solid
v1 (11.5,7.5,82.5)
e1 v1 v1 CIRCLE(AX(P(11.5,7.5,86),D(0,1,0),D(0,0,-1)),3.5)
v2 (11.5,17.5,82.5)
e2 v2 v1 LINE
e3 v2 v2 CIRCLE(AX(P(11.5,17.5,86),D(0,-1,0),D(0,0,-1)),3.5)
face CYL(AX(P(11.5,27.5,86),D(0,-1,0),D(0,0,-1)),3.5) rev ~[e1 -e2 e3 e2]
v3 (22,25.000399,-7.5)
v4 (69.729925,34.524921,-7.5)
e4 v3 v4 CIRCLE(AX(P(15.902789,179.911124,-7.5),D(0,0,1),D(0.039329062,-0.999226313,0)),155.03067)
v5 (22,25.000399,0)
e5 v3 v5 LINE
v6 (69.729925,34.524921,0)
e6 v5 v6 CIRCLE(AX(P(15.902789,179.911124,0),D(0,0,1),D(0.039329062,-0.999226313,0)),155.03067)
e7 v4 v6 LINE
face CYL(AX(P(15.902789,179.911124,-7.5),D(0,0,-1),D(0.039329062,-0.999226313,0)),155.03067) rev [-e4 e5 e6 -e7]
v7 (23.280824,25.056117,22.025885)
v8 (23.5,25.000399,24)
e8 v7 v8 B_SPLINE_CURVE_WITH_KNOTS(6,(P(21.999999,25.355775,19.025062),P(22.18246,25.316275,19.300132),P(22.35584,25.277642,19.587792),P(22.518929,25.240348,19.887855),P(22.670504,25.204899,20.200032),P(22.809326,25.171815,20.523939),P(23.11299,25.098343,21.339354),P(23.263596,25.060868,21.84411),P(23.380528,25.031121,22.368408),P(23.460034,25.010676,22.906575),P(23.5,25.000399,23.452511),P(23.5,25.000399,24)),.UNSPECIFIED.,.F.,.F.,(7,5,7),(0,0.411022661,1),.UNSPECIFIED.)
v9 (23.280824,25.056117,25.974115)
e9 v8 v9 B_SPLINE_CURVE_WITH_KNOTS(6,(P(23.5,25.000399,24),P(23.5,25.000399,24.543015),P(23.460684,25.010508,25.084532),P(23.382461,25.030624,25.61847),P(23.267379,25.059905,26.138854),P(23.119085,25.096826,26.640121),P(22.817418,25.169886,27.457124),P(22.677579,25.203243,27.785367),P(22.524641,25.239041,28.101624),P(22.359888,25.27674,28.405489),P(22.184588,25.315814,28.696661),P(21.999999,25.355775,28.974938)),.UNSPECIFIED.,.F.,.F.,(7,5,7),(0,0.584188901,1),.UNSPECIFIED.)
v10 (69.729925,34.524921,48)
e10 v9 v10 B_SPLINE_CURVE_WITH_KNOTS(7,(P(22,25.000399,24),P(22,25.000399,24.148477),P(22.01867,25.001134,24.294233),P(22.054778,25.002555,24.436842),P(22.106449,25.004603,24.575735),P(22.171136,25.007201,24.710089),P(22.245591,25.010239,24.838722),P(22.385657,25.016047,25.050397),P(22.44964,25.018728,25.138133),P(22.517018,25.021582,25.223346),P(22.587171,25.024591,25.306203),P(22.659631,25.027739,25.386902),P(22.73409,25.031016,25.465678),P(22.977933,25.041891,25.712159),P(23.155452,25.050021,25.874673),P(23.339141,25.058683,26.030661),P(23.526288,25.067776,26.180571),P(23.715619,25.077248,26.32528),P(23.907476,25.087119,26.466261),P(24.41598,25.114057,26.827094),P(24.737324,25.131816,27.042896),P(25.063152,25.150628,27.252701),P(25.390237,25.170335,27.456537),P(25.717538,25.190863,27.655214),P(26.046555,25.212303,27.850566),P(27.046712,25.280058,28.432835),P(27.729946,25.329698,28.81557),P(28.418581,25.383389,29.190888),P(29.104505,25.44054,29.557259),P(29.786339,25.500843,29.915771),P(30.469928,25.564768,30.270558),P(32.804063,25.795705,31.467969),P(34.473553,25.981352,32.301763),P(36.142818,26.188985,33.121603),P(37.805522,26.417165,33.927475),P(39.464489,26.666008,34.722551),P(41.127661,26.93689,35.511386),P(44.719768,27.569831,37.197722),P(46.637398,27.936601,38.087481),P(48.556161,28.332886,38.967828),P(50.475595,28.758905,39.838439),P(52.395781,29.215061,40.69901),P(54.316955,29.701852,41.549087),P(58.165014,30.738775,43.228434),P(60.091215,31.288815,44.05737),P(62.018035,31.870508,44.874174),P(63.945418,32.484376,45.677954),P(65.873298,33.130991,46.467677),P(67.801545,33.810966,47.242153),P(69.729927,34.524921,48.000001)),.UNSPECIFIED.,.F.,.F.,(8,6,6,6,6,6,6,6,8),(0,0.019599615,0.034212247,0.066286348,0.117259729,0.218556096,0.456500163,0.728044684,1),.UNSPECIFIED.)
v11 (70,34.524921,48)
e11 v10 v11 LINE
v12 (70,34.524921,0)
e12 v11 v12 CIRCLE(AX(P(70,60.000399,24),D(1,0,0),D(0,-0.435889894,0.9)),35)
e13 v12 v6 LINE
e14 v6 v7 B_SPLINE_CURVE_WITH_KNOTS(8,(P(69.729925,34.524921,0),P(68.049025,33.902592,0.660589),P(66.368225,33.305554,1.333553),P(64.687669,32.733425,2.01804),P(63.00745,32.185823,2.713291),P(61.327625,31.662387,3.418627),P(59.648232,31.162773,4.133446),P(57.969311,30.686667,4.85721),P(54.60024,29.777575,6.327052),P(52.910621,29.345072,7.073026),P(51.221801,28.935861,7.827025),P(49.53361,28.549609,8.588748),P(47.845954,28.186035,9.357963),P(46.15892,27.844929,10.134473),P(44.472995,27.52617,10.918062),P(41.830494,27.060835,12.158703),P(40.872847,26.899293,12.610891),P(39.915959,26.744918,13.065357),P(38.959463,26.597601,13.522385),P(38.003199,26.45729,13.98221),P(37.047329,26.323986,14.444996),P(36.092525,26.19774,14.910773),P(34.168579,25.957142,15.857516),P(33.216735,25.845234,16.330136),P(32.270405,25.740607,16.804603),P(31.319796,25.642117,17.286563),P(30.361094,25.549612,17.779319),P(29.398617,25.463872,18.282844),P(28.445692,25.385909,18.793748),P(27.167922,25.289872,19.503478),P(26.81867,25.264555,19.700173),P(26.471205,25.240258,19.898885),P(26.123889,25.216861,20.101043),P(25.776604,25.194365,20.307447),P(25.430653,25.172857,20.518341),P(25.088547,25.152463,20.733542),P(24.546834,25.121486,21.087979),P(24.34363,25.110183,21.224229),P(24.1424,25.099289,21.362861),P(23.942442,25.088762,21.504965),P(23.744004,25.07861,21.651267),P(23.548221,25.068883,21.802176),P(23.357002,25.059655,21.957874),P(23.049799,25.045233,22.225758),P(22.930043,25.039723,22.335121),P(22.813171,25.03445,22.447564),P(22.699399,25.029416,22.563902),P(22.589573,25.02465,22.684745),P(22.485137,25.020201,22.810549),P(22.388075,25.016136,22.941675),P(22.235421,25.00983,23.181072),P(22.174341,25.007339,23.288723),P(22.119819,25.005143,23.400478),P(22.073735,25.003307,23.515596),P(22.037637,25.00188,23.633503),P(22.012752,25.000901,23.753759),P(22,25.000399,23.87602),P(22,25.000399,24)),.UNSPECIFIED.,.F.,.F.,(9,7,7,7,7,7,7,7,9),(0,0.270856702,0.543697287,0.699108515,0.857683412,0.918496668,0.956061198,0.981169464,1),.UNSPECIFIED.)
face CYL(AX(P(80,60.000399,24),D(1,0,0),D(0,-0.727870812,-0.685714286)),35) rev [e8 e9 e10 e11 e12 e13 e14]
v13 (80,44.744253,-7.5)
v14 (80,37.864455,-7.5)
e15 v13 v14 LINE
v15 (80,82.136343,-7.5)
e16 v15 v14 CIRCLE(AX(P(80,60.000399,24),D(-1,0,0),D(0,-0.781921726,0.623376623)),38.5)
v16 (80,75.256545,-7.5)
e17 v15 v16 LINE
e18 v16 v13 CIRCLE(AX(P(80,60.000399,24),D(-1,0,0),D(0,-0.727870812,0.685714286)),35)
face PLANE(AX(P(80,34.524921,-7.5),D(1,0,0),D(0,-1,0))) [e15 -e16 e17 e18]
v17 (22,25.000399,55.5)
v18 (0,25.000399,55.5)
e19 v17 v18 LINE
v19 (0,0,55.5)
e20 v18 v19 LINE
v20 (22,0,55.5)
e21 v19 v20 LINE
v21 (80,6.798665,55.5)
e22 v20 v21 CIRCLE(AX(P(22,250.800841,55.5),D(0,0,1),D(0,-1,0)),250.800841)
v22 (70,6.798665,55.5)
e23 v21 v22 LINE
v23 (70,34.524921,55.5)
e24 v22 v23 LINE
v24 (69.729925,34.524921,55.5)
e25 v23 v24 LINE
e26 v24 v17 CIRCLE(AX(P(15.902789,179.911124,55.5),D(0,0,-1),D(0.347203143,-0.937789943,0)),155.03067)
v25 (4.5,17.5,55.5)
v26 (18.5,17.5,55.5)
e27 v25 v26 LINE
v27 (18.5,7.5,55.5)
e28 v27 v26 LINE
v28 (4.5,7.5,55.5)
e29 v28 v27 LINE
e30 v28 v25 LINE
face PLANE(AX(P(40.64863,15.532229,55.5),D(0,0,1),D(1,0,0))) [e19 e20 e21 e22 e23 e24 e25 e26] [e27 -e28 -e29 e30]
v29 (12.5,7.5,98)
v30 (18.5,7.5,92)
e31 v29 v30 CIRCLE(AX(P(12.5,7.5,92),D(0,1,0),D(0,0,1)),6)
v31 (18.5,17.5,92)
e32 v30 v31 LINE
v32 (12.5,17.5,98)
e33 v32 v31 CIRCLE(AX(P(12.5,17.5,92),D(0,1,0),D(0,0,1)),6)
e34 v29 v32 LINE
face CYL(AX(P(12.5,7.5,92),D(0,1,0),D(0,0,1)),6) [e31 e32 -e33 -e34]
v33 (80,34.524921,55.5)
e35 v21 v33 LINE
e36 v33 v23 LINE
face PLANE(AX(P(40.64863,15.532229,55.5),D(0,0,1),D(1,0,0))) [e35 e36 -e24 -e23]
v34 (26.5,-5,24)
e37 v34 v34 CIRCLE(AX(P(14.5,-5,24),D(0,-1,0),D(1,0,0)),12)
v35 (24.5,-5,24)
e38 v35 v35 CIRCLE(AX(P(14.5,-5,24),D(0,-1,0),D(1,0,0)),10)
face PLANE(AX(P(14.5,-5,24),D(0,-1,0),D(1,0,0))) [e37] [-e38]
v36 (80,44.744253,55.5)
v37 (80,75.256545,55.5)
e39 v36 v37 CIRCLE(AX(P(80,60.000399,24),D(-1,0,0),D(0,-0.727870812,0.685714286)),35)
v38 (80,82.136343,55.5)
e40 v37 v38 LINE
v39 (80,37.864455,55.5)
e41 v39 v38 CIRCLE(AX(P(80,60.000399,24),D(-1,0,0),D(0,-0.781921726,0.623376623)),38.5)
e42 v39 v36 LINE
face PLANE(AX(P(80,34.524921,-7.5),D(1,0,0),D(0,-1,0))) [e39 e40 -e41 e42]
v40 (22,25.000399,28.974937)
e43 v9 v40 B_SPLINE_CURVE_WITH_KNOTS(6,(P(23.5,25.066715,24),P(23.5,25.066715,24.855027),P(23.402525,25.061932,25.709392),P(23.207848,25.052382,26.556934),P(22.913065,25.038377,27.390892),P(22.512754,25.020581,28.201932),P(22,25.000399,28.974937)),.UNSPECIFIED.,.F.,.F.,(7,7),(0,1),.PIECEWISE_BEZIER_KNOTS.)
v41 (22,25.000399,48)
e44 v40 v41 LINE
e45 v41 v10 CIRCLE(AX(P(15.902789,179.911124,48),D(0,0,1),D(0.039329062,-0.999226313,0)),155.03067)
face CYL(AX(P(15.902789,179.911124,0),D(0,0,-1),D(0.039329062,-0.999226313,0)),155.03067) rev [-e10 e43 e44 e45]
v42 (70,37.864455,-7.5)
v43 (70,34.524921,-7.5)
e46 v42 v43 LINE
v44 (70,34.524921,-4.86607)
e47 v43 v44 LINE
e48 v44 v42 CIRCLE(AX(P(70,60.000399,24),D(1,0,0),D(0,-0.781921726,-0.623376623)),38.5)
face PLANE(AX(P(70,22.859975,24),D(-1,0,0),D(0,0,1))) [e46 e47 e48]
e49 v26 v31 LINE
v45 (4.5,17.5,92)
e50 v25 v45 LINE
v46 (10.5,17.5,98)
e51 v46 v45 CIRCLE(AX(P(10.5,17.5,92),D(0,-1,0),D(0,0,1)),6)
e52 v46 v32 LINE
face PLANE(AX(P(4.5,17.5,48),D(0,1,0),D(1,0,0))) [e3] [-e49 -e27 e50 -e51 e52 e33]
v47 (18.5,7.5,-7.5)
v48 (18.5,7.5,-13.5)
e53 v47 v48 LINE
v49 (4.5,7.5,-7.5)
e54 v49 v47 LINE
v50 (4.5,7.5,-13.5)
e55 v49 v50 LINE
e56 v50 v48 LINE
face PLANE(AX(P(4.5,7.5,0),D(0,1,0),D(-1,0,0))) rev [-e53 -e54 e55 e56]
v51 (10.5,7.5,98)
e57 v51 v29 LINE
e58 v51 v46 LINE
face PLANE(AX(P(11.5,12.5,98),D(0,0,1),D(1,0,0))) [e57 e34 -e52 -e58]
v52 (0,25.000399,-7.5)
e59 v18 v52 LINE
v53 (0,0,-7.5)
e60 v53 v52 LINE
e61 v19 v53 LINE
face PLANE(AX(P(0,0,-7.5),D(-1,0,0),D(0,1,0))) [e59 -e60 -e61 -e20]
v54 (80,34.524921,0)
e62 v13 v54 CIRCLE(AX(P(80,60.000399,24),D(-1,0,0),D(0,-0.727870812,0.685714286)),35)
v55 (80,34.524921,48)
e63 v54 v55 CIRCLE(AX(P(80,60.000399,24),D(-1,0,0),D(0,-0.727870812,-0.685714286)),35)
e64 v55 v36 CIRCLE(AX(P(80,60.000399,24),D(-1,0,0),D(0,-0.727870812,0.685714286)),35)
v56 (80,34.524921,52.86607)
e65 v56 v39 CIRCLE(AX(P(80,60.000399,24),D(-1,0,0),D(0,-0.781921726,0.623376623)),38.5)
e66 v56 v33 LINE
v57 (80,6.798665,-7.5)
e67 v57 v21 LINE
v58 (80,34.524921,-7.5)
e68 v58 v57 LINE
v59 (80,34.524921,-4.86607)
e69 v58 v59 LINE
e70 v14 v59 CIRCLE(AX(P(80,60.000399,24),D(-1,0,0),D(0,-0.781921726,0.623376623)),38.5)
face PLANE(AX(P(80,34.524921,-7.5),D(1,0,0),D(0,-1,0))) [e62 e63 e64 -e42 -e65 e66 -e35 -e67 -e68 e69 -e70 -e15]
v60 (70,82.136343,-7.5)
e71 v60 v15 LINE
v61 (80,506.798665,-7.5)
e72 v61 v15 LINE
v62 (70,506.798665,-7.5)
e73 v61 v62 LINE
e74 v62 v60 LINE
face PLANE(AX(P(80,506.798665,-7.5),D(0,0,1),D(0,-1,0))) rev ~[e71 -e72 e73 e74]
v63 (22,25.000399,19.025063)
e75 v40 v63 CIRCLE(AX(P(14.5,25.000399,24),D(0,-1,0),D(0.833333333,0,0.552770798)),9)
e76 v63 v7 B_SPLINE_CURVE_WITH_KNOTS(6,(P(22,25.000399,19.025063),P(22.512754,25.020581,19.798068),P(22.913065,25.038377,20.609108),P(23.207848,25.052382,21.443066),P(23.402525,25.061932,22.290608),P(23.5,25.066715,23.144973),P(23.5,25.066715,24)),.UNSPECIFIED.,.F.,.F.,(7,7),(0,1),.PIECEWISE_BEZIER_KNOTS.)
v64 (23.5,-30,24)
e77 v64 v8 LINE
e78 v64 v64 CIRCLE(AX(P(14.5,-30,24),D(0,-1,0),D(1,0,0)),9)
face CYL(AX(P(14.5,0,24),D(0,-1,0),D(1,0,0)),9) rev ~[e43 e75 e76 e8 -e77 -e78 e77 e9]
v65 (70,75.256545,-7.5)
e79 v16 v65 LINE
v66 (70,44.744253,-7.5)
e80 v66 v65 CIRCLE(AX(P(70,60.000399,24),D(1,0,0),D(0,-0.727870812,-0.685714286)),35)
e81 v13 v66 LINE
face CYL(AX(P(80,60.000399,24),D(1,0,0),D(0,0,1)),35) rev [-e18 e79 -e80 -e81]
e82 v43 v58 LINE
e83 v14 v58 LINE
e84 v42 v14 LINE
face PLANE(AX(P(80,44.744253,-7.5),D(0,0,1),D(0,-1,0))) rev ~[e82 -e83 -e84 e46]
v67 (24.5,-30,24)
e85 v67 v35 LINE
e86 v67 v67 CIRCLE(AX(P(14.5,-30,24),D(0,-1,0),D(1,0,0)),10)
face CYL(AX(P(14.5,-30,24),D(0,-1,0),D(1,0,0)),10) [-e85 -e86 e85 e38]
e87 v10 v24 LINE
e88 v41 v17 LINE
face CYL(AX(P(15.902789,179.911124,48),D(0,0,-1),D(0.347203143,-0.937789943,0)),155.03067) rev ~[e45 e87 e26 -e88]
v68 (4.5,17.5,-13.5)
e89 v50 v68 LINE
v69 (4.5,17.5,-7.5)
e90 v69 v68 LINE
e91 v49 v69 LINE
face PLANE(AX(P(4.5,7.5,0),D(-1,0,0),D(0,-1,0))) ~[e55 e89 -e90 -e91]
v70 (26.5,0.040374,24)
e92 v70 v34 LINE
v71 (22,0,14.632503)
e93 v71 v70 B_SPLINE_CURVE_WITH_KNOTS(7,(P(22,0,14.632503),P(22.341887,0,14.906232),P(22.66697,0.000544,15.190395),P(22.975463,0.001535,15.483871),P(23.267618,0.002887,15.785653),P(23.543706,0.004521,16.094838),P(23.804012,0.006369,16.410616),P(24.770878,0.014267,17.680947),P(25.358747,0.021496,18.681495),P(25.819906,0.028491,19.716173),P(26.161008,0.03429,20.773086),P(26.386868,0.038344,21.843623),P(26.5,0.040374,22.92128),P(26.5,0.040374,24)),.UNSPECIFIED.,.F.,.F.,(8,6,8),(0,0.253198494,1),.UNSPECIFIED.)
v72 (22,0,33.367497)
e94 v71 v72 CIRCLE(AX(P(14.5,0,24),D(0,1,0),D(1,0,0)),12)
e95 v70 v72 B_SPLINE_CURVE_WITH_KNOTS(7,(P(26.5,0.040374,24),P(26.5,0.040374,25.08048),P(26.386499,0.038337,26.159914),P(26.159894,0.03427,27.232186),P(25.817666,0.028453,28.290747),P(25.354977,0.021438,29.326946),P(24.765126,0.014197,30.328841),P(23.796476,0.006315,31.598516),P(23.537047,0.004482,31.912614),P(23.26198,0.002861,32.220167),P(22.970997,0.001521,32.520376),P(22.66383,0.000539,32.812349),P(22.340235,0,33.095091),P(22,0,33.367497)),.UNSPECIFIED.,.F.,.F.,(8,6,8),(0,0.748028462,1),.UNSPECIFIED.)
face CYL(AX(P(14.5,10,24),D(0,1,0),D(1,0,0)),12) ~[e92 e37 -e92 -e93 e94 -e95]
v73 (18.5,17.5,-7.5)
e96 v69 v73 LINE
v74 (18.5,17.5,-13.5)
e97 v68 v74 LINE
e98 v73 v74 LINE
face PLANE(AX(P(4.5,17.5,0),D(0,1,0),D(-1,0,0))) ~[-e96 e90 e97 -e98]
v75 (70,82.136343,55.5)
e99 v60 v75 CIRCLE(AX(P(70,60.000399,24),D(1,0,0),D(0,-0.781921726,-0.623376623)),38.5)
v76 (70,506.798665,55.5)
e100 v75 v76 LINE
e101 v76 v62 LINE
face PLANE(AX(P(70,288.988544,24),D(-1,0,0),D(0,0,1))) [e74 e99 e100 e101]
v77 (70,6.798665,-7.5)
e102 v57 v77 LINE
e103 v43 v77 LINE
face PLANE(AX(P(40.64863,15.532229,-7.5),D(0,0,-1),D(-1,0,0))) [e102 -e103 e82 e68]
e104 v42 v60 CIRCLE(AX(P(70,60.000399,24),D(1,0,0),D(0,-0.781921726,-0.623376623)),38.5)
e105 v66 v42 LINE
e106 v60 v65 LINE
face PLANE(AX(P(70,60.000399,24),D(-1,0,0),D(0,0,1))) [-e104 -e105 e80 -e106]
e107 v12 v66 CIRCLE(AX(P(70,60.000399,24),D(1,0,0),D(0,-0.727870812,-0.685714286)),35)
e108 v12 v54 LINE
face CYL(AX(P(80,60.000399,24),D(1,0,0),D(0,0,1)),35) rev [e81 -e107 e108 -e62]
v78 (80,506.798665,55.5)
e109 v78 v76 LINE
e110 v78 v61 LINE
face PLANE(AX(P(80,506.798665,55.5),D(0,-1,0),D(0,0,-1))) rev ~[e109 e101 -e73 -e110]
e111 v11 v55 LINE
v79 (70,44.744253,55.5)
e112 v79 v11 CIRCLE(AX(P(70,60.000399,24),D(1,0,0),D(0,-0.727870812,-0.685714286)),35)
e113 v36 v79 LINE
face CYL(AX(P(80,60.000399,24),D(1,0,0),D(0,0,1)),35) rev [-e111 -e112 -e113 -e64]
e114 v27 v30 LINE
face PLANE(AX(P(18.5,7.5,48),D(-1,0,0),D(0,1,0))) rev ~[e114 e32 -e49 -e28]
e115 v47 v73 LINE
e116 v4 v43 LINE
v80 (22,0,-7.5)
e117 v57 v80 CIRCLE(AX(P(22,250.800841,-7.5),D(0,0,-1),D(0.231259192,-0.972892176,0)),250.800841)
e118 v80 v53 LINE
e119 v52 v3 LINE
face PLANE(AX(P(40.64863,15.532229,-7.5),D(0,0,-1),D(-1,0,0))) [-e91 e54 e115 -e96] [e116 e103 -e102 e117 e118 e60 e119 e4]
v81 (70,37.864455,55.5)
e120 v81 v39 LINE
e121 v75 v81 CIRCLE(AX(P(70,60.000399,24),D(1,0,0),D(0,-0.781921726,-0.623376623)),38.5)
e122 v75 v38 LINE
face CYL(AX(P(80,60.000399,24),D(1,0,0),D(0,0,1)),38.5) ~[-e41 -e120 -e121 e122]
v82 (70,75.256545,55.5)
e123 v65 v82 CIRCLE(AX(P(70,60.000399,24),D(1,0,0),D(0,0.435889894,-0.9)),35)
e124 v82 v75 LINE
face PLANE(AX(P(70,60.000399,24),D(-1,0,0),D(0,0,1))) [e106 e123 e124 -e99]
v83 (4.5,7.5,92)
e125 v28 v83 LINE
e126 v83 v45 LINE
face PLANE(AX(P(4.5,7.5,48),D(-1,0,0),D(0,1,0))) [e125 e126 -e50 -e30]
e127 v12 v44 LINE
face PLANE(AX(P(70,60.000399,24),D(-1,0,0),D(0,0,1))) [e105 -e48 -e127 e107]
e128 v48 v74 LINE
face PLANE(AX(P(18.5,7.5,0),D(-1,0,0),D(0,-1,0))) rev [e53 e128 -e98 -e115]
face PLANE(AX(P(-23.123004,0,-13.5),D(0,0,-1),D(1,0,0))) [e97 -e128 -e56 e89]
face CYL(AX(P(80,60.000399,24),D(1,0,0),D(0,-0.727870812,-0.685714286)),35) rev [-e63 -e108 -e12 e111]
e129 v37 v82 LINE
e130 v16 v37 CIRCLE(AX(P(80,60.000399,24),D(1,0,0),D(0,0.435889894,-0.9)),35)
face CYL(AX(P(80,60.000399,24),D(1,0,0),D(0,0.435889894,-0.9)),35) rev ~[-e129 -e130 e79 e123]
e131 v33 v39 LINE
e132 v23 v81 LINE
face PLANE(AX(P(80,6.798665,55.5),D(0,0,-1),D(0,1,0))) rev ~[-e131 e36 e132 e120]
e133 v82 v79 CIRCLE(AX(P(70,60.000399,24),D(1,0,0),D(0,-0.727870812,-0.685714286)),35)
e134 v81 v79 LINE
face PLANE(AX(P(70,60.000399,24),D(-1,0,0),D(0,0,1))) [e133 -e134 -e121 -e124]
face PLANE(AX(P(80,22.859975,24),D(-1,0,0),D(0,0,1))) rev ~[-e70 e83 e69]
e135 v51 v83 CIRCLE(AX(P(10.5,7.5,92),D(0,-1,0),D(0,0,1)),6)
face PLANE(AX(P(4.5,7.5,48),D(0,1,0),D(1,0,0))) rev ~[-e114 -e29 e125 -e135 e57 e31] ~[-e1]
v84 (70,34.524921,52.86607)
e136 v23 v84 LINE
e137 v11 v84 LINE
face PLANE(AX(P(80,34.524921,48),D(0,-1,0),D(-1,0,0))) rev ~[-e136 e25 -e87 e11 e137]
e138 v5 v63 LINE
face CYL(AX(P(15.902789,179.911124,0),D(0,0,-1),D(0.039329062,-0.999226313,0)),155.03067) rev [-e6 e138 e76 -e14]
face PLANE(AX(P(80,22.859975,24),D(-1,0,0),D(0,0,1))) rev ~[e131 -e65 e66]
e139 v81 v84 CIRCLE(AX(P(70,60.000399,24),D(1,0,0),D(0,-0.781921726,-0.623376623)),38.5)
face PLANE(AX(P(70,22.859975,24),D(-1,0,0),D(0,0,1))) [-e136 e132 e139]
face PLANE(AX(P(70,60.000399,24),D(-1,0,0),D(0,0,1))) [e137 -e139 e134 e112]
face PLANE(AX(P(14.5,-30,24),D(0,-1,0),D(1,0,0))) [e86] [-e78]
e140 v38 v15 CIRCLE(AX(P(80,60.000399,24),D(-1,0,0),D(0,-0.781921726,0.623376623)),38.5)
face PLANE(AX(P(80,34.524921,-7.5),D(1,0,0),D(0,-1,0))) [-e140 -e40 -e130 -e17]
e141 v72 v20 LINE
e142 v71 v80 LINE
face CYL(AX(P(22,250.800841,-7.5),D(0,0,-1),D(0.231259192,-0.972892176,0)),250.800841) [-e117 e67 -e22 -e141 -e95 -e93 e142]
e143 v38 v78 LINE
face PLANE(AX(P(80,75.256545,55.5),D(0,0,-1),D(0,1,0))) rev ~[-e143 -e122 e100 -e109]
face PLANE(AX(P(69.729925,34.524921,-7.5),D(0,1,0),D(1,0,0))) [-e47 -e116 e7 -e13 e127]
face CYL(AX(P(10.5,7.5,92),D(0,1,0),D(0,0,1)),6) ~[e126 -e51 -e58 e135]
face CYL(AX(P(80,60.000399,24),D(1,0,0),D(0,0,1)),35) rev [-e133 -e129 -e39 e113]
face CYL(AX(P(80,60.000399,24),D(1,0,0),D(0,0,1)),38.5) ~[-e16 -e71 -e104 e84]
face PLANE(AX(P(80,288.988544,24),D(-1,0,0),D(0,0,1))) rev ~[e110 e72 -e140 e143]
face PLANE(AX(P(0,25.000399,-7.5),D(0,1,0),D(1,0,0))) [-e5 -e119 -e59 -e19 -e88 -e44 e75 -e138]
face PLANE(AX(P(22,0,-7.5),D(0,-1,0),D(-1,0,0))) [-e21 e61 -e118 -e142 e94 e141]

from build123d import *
from build123d.topology import SkipClean

# Parameters (mm, degrees)
BOSS_EXTRUDE1_DEPTH       = 48
SKETCH2_W                 = 14
SKETCH2_H                 = 10
BOSS_EXTRUDE2_DEPTH       = 50
CUT_EXTRUDE1_DEPTH        = 98
M8X1_0_TAPPED_HOLE1_D     = 7
M8X1_0_TAPPED_HOLE1_DEPTH = 10
M8X1_0_TAPPED_HOLE1_TIP   = 2.103012167
FILLET1_R                 = 6
SKETCH7_R                 = 38.5
SKETCH7_R_2               = 35
BOSS_EXTRUDE3_DEPTH       = 10
SKETCH8_R                 = 35
CUT_EXTRUDE2_DEPTH        = 90
BOSS_EXTRUDE4_DEPTH       = 5
BOSS_EXTRUDE4_DEPTH_BACK  = 10
SKETCH10_R                = 12
SKETCH10_R_2              = 9
BOSS_EXTRUDE5_START       = 25
SKETCH11_R                = 10
SKETCH11_R_2              = 9
BOSS_EXTRUDE5_DEPTH       = 25
SKETCH12_R                = 9
CUT_EXTRUDE3_DEPTH        = 42
BOSS_EXTRUDE6_DEPTH       = 7.5
BOSS_EXTRUDE7_START       = 7.5
BOSS_EXTRUDE7_DEPTH       = 7.5
BOSS_EXTRUDE8_DEPTH       = 10


with BuildPart() as part:
    # Sketch1 → Boss-Extrude1 (new body)
    with BuildSketch(Plane.XY):
        with BuildLine():
            Line((0, 0), (0, 25.00039893))
            Line((0, 25.00039893), (22, 25.00039893))
            ThreePointArc((22, 25.00039893), (51.667114877, 29.062120939), (80, 38.751440389))
            Line((80, 38.751440389), (80, 6.798665084))
            ThreePointArc((80, 6.798665084), (51.198552391, 1.705464917), (22, 0))
            Line((22, 0), (0, 0))
        make_face()
    extrude(amount=BOSS_EXTRUDE1_DEPTH)

    # Sketch2 → Boss-Extrude2 (add)
    with BuildSketch(Plane.XY.offset(48)):
        with Locations((11.5, 12.5)):
            Rectangle(SKETCH2_W, SKETCH2_H)
    boss_extrude2 = extrude(amount=BOSS_EXTRUDE2_DEPTH)

    # Mirror1: Boss-Extrude2 across plane
    add(boss_extrude2.mirror(Plane.XY.offset(24)))

    # Sketch3 → Cut-Extrude1 (cut)
    with BuildSketch(Plane(origin=(0, 0, 0), x_dir=(1, 0, 0), z_dir=(0, 1, 0))):
        Polygon((32.759036304, 13.5), (11.5, 13.5), (-23.123003772, 13.5), (-23.123003772, 84.867154232), (32.759036304, 84.867154232), align=None)
    extrude(amount=CUT_EXTRUDE1_DEPTH, mode=Mode.SUBTRACT)

    # M8x1.0 Tapped Hole1
    with Locations(Plane(origin=(11.5, 17.5, 86), x_dir=(0, 0, 1), z_dir=(0, 1, 0))):
        with Locations((0, 0)):
            Hole(M8X1_0_TAPPED_HOLE1_D / 2, depth=M8X1_0_TAPPED_HOLE1_DEPTH)
            with Locations((0, 0, -(M8X1_0_TAPPED_HOLE1_DEPTH + M8X1_0_TAPPED_HOLE1_TIP / 2))):  # 118° drill point
                Cone(0, M8X1_0_TAPPED_HOLE1_D / 2, M8X1_0_TAPPED_HOLE1_TIP, mode=Mode.SUBTRACT)

    # Fillet1
    fillet1_edges = [part.edges().sort_by_distance(p)[0] for p in [
        (18.5, 12.5, 98),
        (4.5, 12.5, 98),
    ]]
    fillet(fillet1_edges, radius=FILLET1_R)

    # Sketch7 → Boss-Extrude3 (add)
    with BuildSketch(Plane.ZY.offset(-80)):
        with Locations((24, 60.00039893)):
            Circle(SKETCH7_R)
        with Locations((24, 60.00039893)):
            Circle(SKETCH7_R_2, mode=Mode.SUBTRACT)
    extrude(amount=BOSS_EXTRUDE3_DEPTH)

    # Sketch8 → Cut-Extrude2 (cut)
    with BuildSketch(Plane.ZY.offset(-80)):
        with Locations(Location((24, 60.00039893, 0), (0, 0, 226.708192407))):
            Circle(SKETCH8_R)
    extrude(amount=CUT_EXTRUDE2_DEPTH, mode=Mode.SUBTRACT)

    # Sketch10 → Boss-Extrude4 (add, two sides: drawn at the far end of the back side and taken through both)
    with BuildSketch(Plane.XZ.offset(-BOSS_EXTRUDE4_DEPTH_BACK)):
        with Locations((14.5, 24)):
            Circle(SKETCH10_R)
        with Locations((14.5, 24)):
            Circle(SKETCH10_R_2, mode=Mode.SUBTRACT)
    extrude(amount=BOSS_EXTRUDE4_DEPTH + BOSS_EXTRUDE4_DEPTH_BACK)

    # Sketch11 → Boss-Extrude5 (add)
    with BuildSketch(Plane.XZ.offset(5).offset(BOSS_EXTRUDE5_START)):
        with Locations((14.5, 24)):
            Circle(SKETCH11_R)
        with Locations((14.5, 24)):
            Circle(SKETCH11_R_2, mode=Mode.SUBTRACT)
    extrude(amount=-BOSS_EXTRUDE5_DEPTH)

    # Sketch12 → Cut-Extrude3 (cut)
    with BuildSketch(Plane(origin=(0, 0, 0), x_dir=(-1, 0, 0), z_dir=(0, -1, 0))):
        with Locations(Location((-14.5, -24, 0), (0, 0, 180))):
            Circle(SKETCH12_R)
    extrude(amount=-CUT_EXTRUDE3_DEPTH, mode=Mode.SUBTRACT)

    # Sketch13 → Boss-Extrude6 (add)
    with BuildSketch(Plane.XY.offset(48)):
        with BuildLine():
            Line((0, 25.00039893), (0, 0))
            Line((0, 0), (22, 0))
            ThreePointArc((22, 0), (51.198552391, 1.705464917), (80, 6.798665084))
            Line((80, 6.798665084), (80, 29.896412483))
            Line((80, 29.896412483), (80, 34.524920524))
            Line((80, 34.524920524), (70, 34.524920524))
            Line((70, 34.524920524), (69.729925021, 34.524920524))
            ThreePointArc((69.729925021, 34.524920524), (46.24106465, 27.877911315), (22, 25.00039893))
            Line((22, 25.00039893), (0, 25.00039893))
        make_face()
    extrude(amount=BOSS_EXTRUDE6_DEPTH)

    # Sketch14 → Boss-Extrude7 (add)
    with BuildSketch(Plane(origin=(0, 0, 0), x_dir=(-1, 0, 0), z_dir=(0, 0, -1)).offset(BOSS_EXTRUDE7_START)):
        with BuildLine():
            Line((-80, 29.896412483), (-80, 6.798665084))
            ThreePointArc((-80, 6.798665084), (-51.198552391, 1.705464917), (-22, 0))
            Line((-22, 0), (0, 0))
            Line((0, 0), (0, 25.00039893))
            Line((0, 25.00039893), (-22, 25.00039893))
            ThreePointArc((-22, 25.00039893), (-46.24106465, 27.877911315), (-69.729925021, 34.524920524))
            Line((-69.729925021, 34.524920524), (-70, 34.524920524))
            Line((-70, 34.524920524), (-80, 34.524920524))
            Line((-80, 34.524920524), (-80, 29.896412483))
        make_face()
    extrude(amount=-BOSS_EXTRUDE7_DEPTH)

    # Sketch15 → Boss-Extrude8 (add)
    with SkipClean():  # the faces are left unmerged after this step: merging them gives an invalid solid
        with BuildSketch(Plane(origin=(80, 0, 0), x_dir=(0, 0, -1), z_dir=(1, 0, 0))):
            with BuildLine():
                Line((-55.5, 6.798665084), (-55.5, 44.744252628))
                ThreePointArc((-55.5, 44.744252628), (-24, 25.00039893), (7.5, 44.744252628))
                Line((7.5, 44.744252628), (7.5, 6.798665084))
                Line((7.5, 6.798665084), (-55.5, 6.798665084))
            make_face()
            with BuildLine():
                Line((-55.5, 506.798665084), (7.5, 506.798665084))
                Line((7.5, 506.798665084), (7.5, 75.256545232))
                ThreePointArc((7.5, 75.256545232), (-24, 95.00039893), (-55.5, 75.256545232))
                Line((-55.5, 75.256545232), (-55.5, 506.798665084))
            make_face()
        extrude(amount=-BOSS_EXTRUDE8_DEPTH)


solid = part.part
